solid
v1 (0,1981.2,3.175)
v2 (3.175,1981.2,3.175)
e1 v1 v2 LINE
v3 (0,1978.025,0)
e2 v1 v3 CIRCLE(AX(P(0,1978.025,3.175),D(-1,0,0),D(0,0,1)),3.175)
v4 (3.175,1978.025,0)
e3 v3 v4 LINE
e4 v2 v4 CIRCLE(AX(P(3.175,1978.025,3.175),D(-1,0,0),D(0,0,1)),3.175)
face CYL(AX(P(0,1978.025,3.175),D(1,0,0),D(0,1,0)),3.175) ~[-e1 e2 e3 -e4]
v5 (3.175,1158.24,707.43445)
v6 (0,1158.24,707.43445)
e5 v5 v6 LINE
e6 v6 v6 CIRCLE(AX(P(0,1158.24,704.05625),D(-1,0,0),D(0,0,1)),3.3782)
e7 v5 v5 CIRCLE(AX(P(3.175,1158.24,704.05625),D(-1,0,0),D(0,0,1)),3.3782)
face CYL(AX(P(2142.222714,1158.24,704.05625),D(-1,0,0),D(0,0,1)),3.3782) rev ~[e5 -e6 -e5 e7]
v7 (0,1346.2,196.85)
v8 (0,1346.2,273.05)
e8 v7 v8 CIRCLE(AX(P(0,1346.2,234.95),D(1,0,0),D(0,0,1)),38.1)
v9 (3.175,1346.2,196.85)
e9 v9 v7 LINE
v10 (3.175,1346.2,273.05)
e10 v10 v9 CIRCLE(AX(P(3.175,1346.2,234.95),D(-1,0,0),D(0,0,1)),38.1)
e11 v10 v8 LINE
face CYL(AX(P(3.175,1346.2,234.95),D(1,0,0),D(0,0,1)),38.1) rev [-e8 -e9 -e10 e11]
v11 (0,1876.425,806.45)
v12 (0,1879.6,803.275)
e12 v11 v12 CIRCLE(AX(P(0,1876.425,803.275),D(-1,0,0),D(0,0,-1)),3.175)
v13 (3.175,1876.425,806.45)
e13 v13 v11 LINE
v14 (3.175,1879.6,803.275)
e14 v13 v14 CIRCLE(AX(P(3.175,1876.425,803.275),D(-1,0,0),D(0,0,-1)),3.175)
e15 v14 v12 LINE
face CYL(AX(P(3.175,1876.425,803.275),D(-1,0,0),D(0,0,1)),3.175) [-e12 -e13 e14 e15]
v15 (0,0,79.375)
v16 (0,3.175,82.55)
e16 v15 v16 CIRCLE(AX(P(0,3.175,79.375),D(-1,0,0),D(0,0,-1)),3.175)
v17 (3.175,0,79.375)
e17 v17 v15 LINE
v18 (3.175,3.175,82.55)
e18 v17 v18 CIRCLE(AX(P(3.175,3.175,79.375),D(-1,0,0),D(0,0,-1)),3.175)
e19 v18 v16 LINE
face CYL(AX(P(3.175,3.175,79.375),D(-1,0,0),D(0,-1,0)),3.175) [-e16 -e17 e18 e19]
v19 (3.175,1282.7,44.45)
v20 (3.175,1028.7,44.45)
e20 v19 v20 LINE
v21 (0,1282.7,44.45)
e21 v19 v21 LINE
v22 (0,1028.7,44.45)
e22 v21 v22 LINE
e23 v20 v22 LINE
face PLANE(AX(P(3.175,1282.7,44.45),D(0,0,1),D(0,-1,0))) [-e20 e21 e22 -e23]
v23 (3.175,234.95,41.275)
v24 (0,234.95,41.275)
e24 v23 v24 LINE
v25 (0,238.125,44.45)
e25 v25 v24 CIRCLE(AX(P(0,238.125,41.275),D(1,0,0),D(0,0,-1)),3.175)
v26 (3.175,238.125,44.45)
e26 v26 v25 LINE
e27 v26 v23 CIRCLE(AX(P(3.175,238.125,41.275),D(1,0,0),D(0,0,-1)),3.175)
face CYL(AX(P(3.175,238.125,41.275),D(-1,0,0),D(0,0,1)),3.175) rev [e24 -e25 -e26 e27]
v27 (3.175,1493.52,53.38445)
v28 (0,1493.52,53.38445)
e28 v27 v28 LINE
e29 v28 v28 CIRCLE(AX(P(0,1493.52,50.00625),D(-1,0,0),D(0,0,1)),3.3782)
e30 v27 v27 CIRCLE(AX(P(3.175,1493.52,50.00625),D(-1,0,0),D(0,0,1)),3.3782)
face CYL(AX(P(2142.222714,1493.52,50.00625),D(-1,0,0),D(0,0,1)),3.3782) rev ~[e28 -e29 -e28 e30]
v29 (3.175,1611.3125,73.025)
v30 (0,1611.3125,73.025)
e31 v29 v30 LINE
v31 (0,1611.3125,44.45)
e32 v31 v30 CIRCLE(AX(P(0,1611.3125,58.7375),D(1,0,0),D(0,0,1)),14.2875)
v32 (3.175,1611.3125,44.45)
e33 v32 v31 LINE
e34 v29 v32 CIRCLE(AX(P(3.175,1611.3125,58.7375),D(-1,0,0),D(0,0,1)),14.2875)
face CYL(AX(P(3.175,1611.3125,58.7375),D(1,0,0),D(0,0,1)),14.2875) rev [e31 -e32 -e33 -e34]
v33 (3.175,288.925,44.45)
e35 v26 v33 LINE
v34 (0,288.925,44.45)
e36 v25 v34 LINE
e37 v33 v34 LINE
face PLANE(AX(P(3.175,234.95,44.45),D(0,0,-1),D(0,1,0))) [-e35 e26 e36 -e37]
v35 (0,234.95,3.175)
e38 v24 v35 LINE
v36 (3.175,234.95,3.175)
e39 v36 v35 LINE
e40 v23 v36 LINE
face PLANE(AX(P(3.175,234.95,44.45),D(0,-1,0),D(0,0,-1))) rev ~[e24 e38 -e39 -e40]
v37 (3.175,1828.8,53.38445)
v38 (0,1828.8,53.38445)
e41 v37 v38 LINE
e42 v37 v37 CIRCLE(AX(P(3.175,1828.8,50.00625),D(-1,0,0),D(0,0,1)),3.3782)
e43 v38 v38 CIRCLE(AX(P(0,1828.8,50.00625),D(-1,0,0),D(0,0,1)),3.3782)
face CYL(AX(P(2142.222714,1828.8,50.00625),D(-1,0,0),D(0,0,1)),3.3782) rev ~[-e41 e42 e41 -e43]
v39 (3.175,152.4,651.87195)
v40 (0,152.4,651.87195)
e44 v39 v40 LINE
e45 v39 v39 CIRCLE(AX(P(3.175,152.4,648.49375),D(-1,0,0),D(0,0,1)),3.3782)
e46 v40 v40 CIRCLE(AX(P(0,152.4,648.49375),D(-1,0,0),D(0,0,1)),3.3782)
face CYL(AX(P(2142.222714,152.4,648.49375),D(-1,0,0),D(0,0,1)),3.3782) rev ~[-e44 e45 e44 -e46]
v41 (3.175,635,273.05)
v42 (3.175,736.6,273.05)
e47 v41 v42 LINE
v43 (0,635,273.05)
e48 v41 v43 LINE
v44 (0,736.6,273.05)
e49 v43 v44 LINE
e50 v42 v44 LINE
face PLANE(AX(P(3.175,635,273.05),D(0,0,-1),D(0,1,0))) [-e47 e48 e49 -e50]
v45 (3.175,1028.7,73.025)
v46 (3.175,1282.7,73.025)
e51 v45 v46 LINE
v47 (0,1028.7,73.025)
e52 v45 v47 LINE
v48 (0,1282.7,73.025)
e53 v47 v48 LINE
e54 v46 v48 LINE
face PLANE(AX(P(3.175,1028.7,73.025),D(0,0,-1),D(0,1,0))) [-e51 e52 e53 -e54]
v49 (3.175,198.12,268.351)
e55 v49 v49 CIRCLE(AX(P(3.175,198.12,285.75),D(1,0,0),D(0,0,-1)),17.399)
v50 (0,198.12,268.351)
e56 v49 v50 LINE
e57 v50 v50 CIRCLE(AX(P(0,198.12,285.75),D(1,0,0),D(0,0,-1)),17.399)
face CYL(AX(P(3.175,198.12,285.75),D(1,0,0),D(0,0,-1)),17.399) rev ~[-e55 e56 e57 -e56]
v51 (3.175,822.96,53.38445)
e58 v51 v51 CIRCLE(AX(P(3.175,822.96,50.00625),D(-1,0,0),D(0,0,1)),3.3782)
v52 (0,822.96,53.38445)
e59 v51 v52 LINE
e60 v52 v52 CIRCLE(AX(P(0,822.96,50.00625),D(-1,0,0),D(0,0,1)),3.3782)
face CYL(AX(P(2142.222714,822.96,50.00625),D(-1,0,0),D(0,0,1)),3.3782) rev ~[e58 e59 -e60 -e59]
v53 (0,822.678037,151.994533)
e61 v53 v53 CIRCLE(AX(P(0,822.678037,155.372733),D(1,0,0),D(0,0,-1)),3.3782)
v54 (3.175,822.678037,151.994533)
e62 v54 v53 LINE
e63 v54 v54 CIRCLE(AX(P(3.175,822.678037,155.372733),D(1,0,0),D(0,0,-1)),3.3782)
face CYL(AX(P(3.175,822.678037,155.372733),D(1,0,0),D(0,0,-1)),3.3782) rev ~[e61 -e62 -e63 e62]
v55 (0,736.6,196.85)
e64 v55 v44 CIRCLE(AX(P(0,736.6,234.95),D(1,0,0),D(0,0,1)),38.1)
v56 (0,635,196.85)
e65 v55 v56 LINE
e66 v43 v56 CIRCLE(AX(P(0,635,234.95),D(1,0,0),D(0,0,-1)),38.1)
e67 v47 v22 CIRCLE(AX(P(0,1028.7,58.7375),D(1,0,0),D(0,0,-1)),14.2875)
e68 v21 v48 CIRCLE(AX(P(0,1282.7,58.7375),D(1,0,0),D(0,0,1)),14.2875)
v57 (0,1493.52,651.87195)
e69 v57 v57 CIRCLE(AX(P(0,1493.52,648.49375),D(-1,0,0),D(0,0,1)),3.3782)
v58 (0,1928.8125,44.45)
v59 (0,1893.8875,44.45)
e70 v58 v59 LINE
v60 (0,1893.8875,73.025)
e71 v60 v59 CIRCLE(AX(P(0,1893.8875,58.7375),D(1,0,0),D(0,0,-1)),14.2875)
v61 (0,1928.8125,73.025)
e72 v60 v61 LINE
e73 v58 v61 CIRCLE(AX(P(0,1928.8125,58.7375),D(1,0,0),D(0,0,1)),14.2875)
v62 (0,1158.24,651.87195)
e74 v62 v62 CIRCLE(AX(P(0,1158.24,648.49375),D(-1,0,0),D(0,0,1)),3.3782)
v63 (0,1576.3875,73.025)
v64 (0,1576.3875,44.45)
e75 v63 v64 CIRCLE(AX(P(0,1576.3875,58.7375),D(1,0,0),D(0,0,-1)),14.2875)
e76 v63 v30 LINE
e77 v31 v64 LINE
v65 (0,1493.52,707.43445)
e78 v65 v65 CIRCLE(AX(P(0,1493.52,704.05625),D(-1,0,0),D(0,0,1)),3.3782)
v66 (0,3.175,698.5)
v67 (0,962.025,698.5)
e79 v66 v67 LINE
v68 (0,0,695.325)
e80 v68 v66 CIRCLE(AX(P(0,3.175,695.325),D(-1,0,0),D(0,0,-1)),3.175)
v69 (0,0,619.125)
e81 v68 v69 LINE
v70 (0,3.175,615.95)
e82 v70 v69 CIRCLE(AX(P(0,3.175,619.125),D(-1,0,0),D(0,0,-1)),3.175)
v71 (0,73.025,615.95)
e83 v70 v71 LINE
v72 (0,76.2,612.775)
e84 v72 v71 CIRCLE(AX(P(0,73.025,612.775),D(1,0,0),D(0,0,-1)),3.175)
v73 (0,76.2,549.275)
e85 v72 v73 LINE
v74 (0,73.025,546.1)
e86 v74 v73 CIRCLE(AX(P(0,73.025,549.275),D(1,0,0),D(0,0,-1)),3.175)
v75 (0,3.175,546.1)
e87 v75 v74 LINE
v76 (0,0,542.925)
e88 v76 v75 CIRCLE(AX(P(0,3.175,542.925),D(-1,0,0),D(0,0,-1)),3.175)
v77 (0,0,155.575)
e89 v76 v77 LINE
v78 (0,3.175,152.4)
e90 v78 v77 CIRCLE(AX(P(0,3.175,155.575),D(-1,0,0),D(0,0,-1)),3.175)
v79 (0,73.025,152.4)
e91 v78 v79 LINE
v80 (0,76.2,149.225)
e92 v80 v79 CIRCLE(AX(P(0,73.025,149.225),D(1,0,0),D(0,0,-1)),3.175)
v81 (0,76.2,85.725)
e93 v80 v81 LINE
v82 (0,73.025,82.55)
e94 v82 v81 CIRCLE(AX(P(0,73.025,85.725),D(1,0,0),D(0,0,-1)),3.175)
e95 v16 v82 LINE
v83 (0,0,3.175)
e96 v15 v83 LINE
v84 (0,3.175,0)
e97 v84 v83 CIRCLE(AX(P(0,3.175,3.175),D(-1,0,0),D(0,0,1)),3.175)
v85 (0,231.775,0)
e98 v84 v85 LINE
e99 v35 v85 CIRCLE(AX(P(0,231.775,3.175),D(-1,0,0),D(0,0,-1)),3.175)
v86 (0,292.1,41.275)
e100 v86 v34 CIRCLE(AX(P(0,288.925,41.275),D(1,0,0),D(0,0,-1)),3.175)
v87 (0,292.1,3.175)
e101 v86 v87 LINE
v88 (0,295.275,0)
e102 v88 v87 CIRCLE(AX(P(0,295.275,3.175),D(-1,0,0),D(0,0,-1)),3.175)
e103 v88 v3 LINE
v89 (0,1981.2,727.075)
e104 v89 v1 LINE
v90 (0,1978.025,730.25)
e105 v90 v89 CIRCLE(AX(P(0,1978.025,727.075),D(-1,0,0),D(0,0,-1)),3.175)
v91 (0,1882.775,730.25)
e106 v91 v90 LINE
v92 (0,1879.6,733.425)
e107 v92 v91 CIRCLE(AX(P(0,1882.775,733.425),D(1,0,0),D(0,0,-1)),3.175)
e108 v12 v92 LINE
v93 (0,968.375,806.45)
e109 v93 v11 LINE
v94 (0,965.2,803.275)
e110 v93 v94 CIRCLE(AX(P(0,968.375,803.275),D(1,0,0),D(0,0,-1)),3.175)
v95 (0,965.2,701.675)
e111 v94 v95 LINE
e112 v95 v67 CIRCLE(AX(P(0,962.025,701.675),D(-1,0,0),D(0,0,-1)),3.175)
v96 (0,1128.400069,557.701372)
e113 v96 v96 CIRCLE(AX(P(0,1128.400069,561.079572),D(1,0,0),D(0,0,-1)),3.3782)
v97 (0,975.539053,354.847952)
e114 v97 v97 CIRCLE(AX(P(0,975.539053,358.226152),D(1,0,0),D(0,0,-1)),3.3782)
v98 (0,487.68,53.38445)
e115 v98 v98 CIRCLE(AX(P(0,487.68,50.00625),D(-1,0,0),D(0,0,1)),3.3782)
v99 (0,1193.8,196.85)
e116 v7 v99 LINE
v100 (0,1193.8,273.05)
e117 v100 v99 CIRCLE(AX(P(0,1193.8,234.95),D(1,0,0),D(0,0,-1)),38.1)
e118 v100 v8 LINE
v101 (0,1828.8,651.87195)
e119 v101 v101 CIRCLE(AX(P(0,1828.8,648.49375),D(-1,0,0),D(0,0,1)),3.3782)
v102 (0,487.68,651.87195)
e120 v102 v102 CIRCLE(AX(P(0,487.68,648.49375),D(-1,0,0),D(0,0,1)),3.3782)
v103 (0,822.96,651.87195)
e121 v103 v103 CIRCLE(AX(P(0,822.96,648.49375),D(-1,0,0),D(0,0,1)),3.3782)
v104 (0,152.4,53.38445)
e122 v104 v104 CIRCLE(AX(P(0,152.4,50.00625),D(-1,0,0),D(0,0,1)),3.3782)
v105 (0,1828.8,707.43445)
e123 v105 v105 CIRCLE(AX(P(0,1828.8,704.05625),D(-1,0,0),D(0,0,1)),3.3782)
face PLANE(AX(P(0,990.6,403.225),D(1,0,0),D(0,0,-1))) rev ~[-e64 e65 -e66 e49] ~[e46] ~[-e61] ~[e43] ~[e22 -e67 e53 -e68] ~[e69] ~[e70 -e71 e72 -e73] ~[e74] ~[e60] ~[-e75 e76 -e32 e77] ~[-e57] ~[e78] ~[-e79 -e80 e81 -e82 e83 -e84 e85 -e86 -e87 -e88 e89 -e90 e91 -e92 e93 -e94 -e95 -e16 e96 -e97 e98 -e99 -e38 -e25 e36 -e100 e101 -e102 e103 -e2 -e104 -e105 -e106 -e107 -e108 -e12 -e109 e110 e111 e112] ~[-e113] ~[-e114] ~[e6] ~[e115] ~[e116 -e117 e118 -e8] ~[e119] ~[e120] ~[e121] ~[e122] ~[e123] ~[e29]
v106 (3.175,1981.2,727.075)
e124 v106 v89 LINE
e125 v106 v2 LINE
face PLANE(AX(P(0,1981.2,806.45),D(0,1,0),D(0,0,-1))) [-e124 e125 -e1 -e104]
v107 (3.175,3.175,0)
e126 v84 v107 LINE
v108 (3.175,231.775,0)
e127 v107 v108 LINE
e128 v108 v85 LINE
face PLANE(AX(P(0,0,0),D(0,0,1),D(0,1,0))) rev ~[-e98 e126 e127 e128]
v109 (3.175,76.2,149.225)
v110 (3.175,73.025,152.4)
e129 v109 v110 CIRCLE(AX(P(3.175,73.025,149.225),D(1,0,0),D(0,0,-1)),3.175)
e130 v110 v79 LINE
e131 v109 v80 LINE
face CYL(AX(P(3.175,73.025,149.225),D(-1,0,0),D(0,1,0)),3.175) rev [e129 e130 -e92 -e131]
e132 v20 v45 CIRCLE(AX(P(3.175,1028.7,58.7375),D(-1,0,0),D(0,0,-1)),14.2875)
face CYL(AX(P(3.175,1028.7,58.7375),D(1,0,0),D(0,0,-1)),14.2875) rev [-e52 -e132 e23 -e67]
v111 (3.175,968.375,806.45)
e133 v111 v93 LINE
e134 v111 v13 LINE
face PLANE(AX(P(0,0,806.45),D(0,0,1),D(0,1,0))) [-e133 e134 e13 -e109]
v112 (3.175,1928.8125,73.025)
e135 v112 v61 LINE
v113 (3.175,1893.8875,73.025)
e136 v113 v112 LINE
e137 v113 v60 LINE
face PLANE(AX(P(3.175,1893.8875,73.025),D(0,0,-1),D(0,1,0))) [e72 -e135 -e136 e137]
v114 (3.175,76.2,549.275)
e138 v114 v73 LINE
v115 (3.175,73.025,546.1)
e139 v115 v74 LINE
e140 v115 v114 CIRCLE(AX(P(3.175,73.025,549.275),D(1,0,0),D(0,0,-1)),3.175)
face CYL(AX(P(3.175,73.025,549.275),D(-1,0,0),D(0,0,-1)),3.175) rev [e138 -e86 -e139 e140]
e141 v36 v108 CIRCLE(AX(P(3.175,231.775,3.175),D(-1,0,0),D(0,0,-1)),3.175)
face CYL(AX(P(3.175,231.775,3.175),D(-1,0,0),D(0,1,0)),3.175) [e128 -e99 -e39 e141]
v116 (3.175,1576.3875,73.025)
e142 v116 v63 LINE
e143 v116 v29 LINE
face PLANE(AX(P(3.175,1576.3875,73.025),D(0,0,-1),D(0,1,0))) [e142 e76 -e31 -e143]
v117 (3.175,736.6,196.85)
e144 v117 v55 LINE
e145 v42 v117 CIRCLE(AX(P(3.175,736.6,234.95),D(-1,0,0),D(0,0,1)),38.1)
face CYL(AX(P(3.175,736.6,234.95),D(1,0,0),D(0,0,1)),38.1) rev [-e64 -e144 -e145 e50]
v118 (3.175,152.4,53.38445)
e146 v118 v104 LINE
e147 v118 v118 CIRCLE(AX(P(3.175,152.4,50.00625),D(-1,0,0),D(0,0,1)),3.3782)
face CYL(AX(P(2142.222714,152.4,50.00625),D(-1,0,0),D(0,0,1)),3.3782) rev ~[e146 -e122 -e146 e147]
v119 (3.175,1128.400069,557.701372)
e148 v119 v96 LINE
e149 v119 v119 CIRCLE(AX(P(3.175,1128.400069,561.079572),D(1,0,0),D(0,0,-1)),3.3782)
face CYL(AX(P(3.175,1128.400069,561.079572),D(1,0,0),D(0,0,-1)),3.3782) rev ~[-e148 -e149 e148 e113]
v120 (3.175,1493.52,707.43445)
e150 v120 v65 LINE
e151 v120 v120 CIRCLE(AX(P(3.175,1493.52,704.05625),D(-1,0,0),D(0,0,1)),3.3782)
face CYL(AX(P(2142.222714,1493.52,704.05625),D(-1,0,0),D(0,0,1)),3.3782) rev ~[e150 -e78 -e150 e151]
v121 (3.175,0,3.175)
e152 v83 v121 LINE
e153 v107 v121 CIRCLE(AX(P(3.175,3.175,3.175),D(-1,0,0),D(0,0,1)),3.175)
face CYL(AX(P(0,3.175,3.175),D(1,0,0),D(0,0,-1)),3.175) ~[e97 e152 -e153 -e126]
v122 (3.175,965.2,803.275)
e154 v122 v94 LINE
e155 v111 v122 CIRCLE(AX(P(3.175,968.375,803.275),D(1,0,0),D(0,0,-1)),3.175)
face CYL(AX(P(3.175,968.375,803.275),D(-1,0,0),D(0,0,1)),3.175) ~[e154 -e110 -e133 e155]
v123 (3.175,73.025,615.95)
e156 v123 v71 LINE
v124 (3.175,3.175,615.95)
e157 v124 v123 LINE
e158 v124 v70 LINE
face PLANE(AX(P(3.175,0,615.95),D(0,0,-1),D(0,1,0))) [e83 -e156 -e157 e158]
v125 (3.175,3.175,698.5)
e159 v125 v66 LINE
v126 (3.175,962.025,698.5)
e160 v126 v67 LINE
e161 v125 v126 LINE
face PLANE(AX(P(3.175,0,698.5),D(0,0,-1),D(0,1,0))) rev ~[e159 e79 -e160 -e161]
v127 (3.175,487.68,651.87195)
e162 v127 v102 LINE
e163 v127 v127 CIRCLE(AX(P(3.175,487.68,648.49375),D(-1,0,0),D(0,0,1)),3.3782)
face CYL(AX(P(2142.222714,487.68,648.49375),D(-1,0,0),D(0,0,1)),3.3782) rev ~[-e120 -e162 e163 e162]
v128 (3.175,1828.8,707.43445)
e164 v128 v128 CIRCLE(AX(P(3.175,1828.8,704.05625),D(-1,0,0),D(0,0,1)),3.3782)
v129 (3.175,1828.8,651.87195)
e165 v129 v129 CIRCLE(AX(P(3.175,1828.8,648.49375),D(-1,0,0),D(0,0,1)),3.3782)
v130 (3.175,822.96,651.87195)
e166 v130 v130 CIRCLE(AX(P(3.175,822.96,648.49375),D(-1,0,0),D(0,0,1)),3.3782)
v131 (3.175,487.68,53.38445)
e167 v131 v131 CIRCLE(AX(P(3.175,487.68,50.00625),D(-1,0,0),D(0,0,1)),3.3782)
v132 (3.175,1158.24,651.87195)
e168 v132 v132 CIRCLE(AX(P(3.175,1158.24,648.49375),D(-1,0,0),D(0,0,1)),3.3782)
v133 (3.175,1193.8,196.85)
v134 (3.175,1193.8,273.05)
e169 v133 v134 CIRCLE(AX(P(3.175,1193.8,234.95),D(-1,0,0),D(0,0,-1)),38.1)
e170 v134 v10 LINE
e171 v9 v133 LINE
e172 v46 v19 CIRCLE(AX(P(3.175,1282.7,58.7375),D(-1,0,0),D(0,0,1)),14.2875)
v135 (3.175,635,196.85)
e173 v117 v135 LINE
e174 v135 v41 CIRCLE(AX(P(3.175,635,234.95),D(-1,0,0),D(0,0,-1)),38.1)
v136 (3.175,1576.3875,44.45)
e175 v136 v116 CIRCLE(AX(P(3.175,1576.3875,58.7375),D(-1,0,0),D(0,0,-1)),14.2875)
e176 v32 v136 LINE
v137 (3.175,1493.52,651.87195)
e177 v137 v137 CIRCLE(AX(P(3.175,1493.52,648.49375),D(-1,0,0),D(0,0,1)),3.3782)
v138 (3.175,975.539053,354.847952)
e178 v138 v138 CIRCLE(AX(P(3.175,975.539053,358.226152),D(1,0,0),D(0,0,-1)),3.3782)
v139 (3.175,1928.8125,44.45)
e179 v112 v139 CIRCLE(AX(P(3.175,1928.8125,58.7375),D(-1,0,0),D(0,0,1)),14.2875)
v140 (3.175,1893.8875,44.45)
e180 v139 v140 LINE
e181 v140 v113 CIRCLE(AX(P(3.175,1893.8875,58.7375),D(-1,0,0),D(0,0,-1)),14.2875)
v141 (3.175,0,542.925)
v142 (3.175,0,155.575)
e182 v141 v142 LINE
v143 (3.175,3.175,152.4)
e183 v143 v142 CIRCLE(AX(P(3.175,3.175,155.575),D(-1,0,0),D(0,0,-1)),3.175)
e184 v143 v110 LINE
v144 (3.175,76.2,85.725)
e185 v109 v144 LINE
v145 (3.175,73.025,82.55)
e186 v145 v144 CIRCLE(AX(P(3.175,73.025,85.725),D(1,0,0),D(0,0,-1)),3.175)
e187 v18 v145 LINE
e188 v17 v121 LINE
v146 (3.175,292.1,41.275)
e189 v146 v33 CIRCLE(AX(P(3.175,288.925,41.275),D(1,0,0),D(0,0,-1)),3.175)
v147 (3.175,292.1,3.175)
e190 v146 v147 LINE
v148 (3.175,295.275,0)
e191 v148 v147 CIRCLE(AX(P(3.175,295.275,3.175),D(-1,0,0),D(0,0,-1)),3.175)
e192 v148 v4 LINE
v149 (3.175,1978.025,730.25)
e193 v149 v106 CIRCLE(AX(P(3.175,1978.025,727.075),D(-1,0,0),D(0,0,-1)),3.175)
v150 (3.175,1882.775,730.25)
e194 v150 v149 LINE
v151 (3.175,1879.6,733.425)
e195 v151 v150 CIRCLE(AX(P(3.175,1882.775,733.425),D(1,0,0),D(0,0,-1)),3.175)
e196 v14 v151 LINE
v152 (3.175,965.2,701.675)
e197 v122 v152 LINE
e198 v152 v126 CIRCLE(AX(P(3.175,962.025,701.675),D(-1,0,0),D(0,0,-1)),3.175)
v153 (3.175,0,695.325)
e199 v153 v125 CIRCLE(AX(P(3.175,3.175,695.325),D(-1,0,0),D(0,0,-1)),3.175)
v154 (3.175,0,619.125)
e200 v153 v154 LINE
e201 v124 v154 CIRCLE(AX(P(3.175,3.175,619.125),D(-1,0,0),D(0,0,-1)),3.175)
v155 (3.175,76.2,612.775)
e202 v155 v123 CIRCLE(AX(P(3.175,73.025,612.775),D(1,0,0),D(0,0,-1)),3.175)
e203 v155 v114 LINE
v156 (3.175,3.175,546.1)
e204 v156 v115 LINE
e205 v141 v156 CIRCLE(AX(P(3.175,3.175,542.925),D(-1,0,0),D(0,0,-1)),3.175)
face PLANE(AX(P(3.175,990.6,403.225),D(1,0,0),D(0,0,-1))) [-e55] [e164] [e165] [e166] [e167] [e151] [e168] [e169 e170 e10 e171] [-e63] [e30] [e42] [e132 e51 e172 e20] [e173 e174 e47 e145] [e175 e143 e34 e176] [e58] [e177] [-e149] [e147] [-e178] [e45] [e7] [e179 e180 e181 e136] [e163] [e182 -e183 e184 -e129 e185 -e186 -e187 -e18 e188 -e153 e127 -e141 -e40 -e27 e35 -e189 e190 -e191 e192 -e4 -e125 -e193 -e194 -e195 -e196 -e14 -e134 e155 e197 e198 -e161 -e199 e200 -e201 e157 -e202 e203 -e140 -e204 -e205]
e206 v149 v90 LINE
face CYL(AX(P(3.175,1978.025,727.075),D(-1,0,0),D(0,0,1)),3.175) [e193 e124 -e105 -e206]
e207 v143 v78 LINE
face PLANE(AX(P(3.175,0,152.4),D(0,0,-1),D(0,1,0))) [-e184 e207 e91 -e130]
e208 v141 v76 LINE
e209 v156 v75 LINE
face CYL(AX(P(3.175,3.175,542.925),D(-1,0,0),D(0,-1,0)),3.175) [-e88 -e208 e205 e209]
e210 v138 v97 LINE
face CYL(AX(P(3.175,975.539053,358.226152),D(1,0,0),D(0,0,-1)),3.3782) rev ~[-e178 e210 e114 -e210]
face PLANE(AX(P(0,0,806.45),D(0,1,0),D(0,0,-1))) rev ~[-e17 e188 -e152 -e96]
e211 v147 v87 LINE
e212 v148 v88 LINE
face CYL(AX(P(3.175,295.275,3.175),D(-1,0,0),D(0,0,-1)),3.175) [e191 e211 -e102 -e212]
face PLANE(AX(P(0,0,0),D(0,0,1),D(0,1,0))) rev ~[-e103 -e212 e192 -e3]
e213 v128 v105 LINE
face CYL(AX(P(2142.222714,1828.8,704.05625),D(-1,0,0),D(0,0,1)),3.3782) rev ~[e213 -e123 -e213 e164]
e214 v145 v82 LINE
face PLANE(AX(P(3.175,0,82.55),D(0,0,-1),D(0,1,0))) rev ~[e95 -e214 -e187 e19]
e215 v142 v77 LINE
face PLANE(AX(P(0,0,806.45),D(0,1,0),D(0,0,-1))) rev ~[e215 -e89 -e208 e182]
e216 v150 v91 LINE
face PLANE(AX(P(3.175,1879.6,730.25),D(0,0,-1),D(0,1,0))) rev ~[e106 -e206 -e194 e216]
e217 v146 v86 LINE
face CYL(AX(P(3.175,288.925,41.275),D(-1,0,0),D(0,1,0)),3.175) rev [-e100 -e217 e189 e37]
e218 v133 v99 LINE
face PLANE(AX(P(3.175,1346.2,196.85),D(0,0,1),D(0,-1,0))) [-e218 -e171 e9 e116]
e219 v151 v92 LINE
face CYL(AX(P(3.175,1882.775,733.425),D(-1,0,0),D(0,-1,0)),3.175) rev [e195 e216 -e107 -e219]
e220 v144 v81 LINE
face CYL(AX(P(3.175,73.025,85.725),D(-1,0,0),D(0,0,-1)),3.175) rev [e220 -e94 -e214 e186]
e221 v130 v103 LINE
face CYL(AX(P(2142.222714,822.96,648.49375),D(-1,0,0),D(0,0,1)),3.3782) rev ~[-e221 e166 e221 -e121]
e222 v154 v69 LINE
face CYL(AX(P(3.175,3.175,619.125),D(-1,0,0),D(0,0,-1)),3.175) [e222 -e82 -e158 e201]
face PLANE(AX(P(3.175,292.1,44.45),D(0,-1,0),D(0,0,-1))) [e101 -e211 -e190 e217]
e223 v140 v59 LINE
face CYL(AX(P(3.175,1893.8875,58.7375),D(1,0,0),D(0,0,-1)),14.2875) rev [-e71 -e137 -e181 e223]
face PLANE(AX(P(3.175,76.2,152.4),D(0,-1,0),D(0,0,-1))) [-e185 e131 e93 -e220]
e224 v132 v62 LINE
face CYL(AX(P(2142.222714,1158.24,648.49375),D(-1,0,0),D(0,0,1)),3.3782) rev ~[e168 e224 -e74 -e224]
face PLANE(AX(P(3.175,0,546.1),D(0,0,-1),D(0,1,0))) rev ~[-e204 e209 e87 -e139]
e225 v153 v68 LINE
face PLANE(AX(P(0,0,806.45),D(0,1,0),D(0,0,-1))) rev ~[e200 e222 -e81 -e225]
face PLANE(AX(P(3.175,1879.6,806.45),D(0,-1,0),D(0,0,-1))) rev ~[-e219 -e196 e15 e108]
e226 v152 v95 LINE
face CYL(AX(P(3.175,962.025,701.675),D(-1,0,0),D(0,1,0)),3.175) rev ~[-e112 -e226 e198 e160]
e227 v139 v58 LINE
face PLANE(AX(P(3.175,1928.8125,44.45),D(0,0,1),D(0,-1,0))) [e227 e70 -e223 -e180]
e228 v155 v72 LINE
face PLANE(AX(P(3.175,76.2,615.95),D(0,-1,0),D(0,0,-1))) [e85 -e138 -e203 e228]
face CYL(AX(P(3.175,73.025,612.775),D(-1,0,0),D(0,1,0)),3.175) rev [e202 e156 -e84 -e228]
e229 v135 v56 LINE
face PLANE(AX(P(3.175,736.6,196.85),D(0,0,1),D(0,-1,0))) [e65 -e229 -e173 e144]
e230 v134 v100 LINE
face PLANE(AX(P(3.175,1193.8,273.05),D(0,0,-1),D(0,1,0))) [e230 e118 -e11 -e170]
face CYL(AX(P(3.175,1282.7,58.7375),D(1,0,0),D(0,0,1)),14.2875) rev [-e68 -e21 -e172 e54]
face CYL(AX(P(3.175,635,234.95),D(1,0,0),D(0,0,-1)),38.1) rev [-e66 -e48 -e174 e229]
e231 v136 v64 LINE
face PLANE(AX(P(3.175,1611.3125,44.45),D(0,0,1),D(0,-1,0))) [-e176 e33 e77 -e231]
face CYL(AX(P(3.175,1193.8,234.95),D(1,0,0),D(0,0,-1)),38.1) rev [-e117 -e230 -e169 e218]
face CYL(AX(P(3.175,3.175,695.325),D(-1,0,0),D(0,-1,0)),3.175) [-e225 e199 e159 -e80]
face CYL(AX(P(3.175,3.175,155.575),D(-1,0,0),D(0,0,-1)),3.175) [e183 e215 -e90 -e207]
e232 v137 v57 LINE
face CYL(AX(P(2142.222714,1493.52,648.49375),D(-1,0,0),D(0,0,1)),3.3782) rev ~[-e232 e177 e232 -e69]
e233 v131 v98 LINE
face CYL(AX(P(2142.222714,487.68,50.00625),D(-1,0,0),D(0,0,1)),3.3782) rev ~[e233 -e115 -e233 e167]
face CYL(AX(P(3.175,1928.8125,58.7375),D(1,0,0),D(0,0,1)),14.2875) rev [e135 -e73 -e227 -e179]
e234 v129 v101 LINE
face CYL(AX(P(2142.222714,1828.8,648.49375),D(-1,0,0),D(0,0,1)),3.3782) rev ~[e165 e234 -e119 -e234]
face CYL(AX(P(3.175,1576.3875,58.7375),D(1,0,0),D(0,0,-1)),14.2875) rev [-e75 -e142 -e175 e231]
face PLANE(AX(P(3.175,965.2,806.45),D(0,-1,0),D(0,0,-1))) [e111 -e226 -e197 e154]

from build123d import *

# Parameters (mm, degrees)
SKETCH1_W                = 806.45
SKETCH1_H                = 1981.2
BOSS_EXTRUDE1_DEPTH      = 3.175
SKETCH2_W                = 107.95
SKETCH2_H                = 965.2
SKETCH2_W_2              = 76.2
SKETCH2_H_2              = 101.6
CUT_EXTRUDE1_DEPTH       = 4.175
H_0_266_DIAMETER_HOLE1_D = 6.7564
SKETCH5_W                = 69.85
SKETCH5_H                = 76.2
CUT_EXTRUDE2_DEPTH       = 4.175
FILLET1_R                = 3.175
SKETCH7_R                = 17.399
CUT_EXTRUDE4_DEPTH       = 6.35
SKETCH8_W                = 44.45
SKETCH8_H                = 57.15
CUT_EXTRUDE5_DEPTH       = 4.175
SKETCH9_R                = 3.3782
CUT_EXTRUDE6_DEPTH       = 4.175
CUT_EXTRUDE7_DEPTH       = 4.175
CUT_EXTRUDE8_DEPTH       = 4.175
FILLET2_R                = 3.175


with BuildPart() as part:
    # Sketch1 → Boss-Extrude1 (new body)
    with BuildSketch(Plane(origin=(0, 0, 0), x_dir=(0, 0, -1), z_dir=(1, 0, 0))):
        with Locations((-403.225, 990.6)):
            Rectangle(SKETCH1_W, SKETCH1_H)
    extrude(amount=BOSS_EXTRUDE1_DEPTH)

    # Sketch2 → Cut-Extrude1 (cut, through all)
    with BuildSketch(Plane(origin=(3.175, 0, 0), x_dir=(0, 0, -1), z_dir=(1, 0, 0))):
        with Locations((-752.475, 482.6)):
            Rectangle(SKETCH2_W, SKETCH2_H)
        with Locations((-768.35, 1930.4)):
            Rectangle(SKETCH2_W_2, SKETCH2_H_2)
    extrude(amount=-CUT_EXTRUDE1_DEPTH, mode=Mode.SUBTRACT)

    # H (0.266) Diameter Hole1 (through all)
    with Locations(Plane(origin=(3.175, 0, 0), x_dir=(0, 0, -1), z_dir=(1, 0, 0))):
        with Locations((-50.00625, 1828.8), (-704.05625, 1828.8), (-648.49375, 1828.8), (-704.05625, 1493.52), (-648.49375, 1493.52), (-704.05625, 1158.24), (-648.49375, 1158.24), (-648.49375, 822.96), (-648.49375, 487.68), (-648.49375, 152.4), (-50.00625, 152.4), (-50.00625, 487.68), (-50.00625, 822.96), (-50.00625, 1158.24), (-50.00625, 1493.52), (-704.05625, 822.96), (-704.05625, 487.68), (-704.05625, 152.4)):
            Hole(H_0_266_DIAMETER_HOLE1_D / 2)

    # Sketch5 → Cut-Extrude2 (cut, through all)
    with BuildSketch(Plane(origin=(3.175, 0, 0), x_dir=(0, 0, -1), z_dir=(1, 0, 0))):
        with Locations((-117.475, 38.1)):
            Rectangle(SKETCH5_W, SKETCH5_H)
        with Locations((-581.025, 38.1)):
            Rectangle(SKETCH5_W, SKETCH5_H)
    extrude(amount=-CUT_EXTRUDE2_DEPTH, mode=Mode.SUBTRACT)

    # Fillet1
    fillet1_edges = [part.edges().sort_by_distance(p)[0] for p in [
        (1.5875, 76.2, 82.55),
        (1.5875, 0, 82.55),
        (1.5875, 0, 152.4),
        (1.5875, 76.2, 152.4),
        (1.5875, 76.2, 546.1),
        (1.5875, 0, 546.1),
        (1.5875, 0, 615.95),
        (1.5875, 76.2, 615.95),
        (1.5875, 965.2, 806.45),
        (1.5875, 965.2, 698.5),
        (1.5875, 0, 698.5),
        (1.5875, 1879.6, 806.45),
        (1.5875, 1981.2, 730.25),
        (1.5875, 1879.6, 730.25),
        (1.5875, 0, 0),
        (1.5875, 1981.2, 0),
    ]]
    fillet(fillet1_edges, radius=FILLET1_R)

    # Sketch7 → Cut-Extrude4 (cut)
    with BuildSketch(Plane(origin=(3.175, 0, 0), x_dir=(0, 0, -1), z_dir=(1, 0, 0))):
        with Locations((-285.75, 198.12)):
            Circle(SKETCH7_R)
    extrude(amount=-CUT_EXTRUDE4_DEPTH, mode=Mode.SUBTRACT)

    # Sketch8 → Cut-Extrude5 (cut, through all)
    with BuildSketch(Plane(origin=(3.175, 0, 0), x_dir=(0, 0, -1), z_dir=(1, 0, 0))):
        with Locations((-22.225, 263.525)):
            Rectangle(SKETCH8_W, SKETCH8_H)
    extrude(amount=-CUT_EXTRUDE5_DEPTH, mode=Mode.SUBTRACT)

    # Sketch9 → Cut-Extrude6 (cut, through all)
    with BuildSketch(Plane(origin=(3.175, 0, 0), x_dir=(0, 0, -1), z_dir=(1, 0, 0))):
        with Locations((-561.07957168, 1128.400068667)):
            Circle(SKETCH9_R)
        with Locations((-358.226152128, 975.539052786)):
            Circle(SKETCH9_R)
        with Locations((-155.372732576, 822.678036906)):
            Circle(SKETCH9_R)
    extrude(amount=-CUT_EXTRUDE6_DEPTH, mode=Mode.SUBTRACT)

    # Sketch10 → Cut-Extrude7 (cut, through all)
    with BuildSketch(Plane(origin=(3.175, 0, 0), x_dir=(0, 0, -1), z_dir=(1, 0, 0))):
        with BuildLine():
            Line((-44.45, 1282.7), (-44.45, 1028.7))
            ThreePointArc((-44.45, 1028.7), (-58.7375, 1014.4125), (-73.025, 1028.7))
            Line((-73.025, 1028.7), (-73.025, 1282.7))
            ThreePointArc((-73.025, 1282.7), (-58.7375, 1296.9875), (-44.45, 1282.7))
        make_face()
        with BuildLine():
            Line((-73.025, 1576.3875), (-73.025, 1611.3125))
            ThreePointArc((-73.025, 1611.3125), (-58.7375, 1625.6), (-44.45, 1611.3125))
            Line((-44.45, 1611.3125), (-44.45, 1576.3875))
            ThreePointArc((-44.45, 1576.3875), (-58.7375, 1562.1), (-73.025, 1576.3875))
        make_face()
        with BuildLine():
            Line((-44.45, 1928.8125), (-44.45, 1893.8875))
            ThreePointArc((-44.45, 1893.8875), (-58.7375, 1879.6), (-73.025, 1893.8875))
            Line((-73.025, 1893.8875), (-73.025, 1928.8125))
            ThreePointArc((-73.025, 1928.8125), (-58.7375, 1943.1), (-44.45, 1928.8125))
        make_face()
    extrude(amount=-CUT_EXTRUDE7_DEPTH, mode=Mode.SUBTRACT)

    # Sketch11 → Cut-Extrude8 (cut, through all)
    with BuildSketch(Plane(origin=(3.175, 0, 0), x_dir=(0, 0, -1), z_dir=(1, 0, 0))):
        with BuildLine():
            Line((-196.85, 736.6), (-196.85, 635))
            ThreePointArc((-196.85, 635), (-234.95, 596.9), (-273.05, 635))
            Line((-273.05, 635), (-273.05, 736.6))
            ThreePointArc((-273.05, 736.6), (-234.95, 774.7), (-196.85, 736.6))
        make_face()
        with BuildLine():
            Line((-196.85, 1346.2), (-196.85, 1193.8))
            ThreePointArc((-196.85, 1193.8), (-234.95, 1155.7), (-273.05, 1193.8))
            Line((-273.05, 1193.8), (-273.05, 1346.2))
            ThreePointArc((-273.05, 1346.2), (-234.95, 1384.3), (-196.85, 1346.2))
        make_face()
    extrude(amount=-CUT_EXTRUDE8_DEPTH, mode=Mode.SUBTRACT)

    # Fillet2
    fillet2_edges = [part.edges().sort_by_distance(p)[0] for p in [
        (1.5875, 292.1, 0),
        (1.5875, 234.95, 0),
        (1.5875, 234.95, 44.45),
        (1.5875, 292.1, 44.45),
    ]]
    fillet(fillet2_edges, radius=FILLET2_R)


solid = part.part
